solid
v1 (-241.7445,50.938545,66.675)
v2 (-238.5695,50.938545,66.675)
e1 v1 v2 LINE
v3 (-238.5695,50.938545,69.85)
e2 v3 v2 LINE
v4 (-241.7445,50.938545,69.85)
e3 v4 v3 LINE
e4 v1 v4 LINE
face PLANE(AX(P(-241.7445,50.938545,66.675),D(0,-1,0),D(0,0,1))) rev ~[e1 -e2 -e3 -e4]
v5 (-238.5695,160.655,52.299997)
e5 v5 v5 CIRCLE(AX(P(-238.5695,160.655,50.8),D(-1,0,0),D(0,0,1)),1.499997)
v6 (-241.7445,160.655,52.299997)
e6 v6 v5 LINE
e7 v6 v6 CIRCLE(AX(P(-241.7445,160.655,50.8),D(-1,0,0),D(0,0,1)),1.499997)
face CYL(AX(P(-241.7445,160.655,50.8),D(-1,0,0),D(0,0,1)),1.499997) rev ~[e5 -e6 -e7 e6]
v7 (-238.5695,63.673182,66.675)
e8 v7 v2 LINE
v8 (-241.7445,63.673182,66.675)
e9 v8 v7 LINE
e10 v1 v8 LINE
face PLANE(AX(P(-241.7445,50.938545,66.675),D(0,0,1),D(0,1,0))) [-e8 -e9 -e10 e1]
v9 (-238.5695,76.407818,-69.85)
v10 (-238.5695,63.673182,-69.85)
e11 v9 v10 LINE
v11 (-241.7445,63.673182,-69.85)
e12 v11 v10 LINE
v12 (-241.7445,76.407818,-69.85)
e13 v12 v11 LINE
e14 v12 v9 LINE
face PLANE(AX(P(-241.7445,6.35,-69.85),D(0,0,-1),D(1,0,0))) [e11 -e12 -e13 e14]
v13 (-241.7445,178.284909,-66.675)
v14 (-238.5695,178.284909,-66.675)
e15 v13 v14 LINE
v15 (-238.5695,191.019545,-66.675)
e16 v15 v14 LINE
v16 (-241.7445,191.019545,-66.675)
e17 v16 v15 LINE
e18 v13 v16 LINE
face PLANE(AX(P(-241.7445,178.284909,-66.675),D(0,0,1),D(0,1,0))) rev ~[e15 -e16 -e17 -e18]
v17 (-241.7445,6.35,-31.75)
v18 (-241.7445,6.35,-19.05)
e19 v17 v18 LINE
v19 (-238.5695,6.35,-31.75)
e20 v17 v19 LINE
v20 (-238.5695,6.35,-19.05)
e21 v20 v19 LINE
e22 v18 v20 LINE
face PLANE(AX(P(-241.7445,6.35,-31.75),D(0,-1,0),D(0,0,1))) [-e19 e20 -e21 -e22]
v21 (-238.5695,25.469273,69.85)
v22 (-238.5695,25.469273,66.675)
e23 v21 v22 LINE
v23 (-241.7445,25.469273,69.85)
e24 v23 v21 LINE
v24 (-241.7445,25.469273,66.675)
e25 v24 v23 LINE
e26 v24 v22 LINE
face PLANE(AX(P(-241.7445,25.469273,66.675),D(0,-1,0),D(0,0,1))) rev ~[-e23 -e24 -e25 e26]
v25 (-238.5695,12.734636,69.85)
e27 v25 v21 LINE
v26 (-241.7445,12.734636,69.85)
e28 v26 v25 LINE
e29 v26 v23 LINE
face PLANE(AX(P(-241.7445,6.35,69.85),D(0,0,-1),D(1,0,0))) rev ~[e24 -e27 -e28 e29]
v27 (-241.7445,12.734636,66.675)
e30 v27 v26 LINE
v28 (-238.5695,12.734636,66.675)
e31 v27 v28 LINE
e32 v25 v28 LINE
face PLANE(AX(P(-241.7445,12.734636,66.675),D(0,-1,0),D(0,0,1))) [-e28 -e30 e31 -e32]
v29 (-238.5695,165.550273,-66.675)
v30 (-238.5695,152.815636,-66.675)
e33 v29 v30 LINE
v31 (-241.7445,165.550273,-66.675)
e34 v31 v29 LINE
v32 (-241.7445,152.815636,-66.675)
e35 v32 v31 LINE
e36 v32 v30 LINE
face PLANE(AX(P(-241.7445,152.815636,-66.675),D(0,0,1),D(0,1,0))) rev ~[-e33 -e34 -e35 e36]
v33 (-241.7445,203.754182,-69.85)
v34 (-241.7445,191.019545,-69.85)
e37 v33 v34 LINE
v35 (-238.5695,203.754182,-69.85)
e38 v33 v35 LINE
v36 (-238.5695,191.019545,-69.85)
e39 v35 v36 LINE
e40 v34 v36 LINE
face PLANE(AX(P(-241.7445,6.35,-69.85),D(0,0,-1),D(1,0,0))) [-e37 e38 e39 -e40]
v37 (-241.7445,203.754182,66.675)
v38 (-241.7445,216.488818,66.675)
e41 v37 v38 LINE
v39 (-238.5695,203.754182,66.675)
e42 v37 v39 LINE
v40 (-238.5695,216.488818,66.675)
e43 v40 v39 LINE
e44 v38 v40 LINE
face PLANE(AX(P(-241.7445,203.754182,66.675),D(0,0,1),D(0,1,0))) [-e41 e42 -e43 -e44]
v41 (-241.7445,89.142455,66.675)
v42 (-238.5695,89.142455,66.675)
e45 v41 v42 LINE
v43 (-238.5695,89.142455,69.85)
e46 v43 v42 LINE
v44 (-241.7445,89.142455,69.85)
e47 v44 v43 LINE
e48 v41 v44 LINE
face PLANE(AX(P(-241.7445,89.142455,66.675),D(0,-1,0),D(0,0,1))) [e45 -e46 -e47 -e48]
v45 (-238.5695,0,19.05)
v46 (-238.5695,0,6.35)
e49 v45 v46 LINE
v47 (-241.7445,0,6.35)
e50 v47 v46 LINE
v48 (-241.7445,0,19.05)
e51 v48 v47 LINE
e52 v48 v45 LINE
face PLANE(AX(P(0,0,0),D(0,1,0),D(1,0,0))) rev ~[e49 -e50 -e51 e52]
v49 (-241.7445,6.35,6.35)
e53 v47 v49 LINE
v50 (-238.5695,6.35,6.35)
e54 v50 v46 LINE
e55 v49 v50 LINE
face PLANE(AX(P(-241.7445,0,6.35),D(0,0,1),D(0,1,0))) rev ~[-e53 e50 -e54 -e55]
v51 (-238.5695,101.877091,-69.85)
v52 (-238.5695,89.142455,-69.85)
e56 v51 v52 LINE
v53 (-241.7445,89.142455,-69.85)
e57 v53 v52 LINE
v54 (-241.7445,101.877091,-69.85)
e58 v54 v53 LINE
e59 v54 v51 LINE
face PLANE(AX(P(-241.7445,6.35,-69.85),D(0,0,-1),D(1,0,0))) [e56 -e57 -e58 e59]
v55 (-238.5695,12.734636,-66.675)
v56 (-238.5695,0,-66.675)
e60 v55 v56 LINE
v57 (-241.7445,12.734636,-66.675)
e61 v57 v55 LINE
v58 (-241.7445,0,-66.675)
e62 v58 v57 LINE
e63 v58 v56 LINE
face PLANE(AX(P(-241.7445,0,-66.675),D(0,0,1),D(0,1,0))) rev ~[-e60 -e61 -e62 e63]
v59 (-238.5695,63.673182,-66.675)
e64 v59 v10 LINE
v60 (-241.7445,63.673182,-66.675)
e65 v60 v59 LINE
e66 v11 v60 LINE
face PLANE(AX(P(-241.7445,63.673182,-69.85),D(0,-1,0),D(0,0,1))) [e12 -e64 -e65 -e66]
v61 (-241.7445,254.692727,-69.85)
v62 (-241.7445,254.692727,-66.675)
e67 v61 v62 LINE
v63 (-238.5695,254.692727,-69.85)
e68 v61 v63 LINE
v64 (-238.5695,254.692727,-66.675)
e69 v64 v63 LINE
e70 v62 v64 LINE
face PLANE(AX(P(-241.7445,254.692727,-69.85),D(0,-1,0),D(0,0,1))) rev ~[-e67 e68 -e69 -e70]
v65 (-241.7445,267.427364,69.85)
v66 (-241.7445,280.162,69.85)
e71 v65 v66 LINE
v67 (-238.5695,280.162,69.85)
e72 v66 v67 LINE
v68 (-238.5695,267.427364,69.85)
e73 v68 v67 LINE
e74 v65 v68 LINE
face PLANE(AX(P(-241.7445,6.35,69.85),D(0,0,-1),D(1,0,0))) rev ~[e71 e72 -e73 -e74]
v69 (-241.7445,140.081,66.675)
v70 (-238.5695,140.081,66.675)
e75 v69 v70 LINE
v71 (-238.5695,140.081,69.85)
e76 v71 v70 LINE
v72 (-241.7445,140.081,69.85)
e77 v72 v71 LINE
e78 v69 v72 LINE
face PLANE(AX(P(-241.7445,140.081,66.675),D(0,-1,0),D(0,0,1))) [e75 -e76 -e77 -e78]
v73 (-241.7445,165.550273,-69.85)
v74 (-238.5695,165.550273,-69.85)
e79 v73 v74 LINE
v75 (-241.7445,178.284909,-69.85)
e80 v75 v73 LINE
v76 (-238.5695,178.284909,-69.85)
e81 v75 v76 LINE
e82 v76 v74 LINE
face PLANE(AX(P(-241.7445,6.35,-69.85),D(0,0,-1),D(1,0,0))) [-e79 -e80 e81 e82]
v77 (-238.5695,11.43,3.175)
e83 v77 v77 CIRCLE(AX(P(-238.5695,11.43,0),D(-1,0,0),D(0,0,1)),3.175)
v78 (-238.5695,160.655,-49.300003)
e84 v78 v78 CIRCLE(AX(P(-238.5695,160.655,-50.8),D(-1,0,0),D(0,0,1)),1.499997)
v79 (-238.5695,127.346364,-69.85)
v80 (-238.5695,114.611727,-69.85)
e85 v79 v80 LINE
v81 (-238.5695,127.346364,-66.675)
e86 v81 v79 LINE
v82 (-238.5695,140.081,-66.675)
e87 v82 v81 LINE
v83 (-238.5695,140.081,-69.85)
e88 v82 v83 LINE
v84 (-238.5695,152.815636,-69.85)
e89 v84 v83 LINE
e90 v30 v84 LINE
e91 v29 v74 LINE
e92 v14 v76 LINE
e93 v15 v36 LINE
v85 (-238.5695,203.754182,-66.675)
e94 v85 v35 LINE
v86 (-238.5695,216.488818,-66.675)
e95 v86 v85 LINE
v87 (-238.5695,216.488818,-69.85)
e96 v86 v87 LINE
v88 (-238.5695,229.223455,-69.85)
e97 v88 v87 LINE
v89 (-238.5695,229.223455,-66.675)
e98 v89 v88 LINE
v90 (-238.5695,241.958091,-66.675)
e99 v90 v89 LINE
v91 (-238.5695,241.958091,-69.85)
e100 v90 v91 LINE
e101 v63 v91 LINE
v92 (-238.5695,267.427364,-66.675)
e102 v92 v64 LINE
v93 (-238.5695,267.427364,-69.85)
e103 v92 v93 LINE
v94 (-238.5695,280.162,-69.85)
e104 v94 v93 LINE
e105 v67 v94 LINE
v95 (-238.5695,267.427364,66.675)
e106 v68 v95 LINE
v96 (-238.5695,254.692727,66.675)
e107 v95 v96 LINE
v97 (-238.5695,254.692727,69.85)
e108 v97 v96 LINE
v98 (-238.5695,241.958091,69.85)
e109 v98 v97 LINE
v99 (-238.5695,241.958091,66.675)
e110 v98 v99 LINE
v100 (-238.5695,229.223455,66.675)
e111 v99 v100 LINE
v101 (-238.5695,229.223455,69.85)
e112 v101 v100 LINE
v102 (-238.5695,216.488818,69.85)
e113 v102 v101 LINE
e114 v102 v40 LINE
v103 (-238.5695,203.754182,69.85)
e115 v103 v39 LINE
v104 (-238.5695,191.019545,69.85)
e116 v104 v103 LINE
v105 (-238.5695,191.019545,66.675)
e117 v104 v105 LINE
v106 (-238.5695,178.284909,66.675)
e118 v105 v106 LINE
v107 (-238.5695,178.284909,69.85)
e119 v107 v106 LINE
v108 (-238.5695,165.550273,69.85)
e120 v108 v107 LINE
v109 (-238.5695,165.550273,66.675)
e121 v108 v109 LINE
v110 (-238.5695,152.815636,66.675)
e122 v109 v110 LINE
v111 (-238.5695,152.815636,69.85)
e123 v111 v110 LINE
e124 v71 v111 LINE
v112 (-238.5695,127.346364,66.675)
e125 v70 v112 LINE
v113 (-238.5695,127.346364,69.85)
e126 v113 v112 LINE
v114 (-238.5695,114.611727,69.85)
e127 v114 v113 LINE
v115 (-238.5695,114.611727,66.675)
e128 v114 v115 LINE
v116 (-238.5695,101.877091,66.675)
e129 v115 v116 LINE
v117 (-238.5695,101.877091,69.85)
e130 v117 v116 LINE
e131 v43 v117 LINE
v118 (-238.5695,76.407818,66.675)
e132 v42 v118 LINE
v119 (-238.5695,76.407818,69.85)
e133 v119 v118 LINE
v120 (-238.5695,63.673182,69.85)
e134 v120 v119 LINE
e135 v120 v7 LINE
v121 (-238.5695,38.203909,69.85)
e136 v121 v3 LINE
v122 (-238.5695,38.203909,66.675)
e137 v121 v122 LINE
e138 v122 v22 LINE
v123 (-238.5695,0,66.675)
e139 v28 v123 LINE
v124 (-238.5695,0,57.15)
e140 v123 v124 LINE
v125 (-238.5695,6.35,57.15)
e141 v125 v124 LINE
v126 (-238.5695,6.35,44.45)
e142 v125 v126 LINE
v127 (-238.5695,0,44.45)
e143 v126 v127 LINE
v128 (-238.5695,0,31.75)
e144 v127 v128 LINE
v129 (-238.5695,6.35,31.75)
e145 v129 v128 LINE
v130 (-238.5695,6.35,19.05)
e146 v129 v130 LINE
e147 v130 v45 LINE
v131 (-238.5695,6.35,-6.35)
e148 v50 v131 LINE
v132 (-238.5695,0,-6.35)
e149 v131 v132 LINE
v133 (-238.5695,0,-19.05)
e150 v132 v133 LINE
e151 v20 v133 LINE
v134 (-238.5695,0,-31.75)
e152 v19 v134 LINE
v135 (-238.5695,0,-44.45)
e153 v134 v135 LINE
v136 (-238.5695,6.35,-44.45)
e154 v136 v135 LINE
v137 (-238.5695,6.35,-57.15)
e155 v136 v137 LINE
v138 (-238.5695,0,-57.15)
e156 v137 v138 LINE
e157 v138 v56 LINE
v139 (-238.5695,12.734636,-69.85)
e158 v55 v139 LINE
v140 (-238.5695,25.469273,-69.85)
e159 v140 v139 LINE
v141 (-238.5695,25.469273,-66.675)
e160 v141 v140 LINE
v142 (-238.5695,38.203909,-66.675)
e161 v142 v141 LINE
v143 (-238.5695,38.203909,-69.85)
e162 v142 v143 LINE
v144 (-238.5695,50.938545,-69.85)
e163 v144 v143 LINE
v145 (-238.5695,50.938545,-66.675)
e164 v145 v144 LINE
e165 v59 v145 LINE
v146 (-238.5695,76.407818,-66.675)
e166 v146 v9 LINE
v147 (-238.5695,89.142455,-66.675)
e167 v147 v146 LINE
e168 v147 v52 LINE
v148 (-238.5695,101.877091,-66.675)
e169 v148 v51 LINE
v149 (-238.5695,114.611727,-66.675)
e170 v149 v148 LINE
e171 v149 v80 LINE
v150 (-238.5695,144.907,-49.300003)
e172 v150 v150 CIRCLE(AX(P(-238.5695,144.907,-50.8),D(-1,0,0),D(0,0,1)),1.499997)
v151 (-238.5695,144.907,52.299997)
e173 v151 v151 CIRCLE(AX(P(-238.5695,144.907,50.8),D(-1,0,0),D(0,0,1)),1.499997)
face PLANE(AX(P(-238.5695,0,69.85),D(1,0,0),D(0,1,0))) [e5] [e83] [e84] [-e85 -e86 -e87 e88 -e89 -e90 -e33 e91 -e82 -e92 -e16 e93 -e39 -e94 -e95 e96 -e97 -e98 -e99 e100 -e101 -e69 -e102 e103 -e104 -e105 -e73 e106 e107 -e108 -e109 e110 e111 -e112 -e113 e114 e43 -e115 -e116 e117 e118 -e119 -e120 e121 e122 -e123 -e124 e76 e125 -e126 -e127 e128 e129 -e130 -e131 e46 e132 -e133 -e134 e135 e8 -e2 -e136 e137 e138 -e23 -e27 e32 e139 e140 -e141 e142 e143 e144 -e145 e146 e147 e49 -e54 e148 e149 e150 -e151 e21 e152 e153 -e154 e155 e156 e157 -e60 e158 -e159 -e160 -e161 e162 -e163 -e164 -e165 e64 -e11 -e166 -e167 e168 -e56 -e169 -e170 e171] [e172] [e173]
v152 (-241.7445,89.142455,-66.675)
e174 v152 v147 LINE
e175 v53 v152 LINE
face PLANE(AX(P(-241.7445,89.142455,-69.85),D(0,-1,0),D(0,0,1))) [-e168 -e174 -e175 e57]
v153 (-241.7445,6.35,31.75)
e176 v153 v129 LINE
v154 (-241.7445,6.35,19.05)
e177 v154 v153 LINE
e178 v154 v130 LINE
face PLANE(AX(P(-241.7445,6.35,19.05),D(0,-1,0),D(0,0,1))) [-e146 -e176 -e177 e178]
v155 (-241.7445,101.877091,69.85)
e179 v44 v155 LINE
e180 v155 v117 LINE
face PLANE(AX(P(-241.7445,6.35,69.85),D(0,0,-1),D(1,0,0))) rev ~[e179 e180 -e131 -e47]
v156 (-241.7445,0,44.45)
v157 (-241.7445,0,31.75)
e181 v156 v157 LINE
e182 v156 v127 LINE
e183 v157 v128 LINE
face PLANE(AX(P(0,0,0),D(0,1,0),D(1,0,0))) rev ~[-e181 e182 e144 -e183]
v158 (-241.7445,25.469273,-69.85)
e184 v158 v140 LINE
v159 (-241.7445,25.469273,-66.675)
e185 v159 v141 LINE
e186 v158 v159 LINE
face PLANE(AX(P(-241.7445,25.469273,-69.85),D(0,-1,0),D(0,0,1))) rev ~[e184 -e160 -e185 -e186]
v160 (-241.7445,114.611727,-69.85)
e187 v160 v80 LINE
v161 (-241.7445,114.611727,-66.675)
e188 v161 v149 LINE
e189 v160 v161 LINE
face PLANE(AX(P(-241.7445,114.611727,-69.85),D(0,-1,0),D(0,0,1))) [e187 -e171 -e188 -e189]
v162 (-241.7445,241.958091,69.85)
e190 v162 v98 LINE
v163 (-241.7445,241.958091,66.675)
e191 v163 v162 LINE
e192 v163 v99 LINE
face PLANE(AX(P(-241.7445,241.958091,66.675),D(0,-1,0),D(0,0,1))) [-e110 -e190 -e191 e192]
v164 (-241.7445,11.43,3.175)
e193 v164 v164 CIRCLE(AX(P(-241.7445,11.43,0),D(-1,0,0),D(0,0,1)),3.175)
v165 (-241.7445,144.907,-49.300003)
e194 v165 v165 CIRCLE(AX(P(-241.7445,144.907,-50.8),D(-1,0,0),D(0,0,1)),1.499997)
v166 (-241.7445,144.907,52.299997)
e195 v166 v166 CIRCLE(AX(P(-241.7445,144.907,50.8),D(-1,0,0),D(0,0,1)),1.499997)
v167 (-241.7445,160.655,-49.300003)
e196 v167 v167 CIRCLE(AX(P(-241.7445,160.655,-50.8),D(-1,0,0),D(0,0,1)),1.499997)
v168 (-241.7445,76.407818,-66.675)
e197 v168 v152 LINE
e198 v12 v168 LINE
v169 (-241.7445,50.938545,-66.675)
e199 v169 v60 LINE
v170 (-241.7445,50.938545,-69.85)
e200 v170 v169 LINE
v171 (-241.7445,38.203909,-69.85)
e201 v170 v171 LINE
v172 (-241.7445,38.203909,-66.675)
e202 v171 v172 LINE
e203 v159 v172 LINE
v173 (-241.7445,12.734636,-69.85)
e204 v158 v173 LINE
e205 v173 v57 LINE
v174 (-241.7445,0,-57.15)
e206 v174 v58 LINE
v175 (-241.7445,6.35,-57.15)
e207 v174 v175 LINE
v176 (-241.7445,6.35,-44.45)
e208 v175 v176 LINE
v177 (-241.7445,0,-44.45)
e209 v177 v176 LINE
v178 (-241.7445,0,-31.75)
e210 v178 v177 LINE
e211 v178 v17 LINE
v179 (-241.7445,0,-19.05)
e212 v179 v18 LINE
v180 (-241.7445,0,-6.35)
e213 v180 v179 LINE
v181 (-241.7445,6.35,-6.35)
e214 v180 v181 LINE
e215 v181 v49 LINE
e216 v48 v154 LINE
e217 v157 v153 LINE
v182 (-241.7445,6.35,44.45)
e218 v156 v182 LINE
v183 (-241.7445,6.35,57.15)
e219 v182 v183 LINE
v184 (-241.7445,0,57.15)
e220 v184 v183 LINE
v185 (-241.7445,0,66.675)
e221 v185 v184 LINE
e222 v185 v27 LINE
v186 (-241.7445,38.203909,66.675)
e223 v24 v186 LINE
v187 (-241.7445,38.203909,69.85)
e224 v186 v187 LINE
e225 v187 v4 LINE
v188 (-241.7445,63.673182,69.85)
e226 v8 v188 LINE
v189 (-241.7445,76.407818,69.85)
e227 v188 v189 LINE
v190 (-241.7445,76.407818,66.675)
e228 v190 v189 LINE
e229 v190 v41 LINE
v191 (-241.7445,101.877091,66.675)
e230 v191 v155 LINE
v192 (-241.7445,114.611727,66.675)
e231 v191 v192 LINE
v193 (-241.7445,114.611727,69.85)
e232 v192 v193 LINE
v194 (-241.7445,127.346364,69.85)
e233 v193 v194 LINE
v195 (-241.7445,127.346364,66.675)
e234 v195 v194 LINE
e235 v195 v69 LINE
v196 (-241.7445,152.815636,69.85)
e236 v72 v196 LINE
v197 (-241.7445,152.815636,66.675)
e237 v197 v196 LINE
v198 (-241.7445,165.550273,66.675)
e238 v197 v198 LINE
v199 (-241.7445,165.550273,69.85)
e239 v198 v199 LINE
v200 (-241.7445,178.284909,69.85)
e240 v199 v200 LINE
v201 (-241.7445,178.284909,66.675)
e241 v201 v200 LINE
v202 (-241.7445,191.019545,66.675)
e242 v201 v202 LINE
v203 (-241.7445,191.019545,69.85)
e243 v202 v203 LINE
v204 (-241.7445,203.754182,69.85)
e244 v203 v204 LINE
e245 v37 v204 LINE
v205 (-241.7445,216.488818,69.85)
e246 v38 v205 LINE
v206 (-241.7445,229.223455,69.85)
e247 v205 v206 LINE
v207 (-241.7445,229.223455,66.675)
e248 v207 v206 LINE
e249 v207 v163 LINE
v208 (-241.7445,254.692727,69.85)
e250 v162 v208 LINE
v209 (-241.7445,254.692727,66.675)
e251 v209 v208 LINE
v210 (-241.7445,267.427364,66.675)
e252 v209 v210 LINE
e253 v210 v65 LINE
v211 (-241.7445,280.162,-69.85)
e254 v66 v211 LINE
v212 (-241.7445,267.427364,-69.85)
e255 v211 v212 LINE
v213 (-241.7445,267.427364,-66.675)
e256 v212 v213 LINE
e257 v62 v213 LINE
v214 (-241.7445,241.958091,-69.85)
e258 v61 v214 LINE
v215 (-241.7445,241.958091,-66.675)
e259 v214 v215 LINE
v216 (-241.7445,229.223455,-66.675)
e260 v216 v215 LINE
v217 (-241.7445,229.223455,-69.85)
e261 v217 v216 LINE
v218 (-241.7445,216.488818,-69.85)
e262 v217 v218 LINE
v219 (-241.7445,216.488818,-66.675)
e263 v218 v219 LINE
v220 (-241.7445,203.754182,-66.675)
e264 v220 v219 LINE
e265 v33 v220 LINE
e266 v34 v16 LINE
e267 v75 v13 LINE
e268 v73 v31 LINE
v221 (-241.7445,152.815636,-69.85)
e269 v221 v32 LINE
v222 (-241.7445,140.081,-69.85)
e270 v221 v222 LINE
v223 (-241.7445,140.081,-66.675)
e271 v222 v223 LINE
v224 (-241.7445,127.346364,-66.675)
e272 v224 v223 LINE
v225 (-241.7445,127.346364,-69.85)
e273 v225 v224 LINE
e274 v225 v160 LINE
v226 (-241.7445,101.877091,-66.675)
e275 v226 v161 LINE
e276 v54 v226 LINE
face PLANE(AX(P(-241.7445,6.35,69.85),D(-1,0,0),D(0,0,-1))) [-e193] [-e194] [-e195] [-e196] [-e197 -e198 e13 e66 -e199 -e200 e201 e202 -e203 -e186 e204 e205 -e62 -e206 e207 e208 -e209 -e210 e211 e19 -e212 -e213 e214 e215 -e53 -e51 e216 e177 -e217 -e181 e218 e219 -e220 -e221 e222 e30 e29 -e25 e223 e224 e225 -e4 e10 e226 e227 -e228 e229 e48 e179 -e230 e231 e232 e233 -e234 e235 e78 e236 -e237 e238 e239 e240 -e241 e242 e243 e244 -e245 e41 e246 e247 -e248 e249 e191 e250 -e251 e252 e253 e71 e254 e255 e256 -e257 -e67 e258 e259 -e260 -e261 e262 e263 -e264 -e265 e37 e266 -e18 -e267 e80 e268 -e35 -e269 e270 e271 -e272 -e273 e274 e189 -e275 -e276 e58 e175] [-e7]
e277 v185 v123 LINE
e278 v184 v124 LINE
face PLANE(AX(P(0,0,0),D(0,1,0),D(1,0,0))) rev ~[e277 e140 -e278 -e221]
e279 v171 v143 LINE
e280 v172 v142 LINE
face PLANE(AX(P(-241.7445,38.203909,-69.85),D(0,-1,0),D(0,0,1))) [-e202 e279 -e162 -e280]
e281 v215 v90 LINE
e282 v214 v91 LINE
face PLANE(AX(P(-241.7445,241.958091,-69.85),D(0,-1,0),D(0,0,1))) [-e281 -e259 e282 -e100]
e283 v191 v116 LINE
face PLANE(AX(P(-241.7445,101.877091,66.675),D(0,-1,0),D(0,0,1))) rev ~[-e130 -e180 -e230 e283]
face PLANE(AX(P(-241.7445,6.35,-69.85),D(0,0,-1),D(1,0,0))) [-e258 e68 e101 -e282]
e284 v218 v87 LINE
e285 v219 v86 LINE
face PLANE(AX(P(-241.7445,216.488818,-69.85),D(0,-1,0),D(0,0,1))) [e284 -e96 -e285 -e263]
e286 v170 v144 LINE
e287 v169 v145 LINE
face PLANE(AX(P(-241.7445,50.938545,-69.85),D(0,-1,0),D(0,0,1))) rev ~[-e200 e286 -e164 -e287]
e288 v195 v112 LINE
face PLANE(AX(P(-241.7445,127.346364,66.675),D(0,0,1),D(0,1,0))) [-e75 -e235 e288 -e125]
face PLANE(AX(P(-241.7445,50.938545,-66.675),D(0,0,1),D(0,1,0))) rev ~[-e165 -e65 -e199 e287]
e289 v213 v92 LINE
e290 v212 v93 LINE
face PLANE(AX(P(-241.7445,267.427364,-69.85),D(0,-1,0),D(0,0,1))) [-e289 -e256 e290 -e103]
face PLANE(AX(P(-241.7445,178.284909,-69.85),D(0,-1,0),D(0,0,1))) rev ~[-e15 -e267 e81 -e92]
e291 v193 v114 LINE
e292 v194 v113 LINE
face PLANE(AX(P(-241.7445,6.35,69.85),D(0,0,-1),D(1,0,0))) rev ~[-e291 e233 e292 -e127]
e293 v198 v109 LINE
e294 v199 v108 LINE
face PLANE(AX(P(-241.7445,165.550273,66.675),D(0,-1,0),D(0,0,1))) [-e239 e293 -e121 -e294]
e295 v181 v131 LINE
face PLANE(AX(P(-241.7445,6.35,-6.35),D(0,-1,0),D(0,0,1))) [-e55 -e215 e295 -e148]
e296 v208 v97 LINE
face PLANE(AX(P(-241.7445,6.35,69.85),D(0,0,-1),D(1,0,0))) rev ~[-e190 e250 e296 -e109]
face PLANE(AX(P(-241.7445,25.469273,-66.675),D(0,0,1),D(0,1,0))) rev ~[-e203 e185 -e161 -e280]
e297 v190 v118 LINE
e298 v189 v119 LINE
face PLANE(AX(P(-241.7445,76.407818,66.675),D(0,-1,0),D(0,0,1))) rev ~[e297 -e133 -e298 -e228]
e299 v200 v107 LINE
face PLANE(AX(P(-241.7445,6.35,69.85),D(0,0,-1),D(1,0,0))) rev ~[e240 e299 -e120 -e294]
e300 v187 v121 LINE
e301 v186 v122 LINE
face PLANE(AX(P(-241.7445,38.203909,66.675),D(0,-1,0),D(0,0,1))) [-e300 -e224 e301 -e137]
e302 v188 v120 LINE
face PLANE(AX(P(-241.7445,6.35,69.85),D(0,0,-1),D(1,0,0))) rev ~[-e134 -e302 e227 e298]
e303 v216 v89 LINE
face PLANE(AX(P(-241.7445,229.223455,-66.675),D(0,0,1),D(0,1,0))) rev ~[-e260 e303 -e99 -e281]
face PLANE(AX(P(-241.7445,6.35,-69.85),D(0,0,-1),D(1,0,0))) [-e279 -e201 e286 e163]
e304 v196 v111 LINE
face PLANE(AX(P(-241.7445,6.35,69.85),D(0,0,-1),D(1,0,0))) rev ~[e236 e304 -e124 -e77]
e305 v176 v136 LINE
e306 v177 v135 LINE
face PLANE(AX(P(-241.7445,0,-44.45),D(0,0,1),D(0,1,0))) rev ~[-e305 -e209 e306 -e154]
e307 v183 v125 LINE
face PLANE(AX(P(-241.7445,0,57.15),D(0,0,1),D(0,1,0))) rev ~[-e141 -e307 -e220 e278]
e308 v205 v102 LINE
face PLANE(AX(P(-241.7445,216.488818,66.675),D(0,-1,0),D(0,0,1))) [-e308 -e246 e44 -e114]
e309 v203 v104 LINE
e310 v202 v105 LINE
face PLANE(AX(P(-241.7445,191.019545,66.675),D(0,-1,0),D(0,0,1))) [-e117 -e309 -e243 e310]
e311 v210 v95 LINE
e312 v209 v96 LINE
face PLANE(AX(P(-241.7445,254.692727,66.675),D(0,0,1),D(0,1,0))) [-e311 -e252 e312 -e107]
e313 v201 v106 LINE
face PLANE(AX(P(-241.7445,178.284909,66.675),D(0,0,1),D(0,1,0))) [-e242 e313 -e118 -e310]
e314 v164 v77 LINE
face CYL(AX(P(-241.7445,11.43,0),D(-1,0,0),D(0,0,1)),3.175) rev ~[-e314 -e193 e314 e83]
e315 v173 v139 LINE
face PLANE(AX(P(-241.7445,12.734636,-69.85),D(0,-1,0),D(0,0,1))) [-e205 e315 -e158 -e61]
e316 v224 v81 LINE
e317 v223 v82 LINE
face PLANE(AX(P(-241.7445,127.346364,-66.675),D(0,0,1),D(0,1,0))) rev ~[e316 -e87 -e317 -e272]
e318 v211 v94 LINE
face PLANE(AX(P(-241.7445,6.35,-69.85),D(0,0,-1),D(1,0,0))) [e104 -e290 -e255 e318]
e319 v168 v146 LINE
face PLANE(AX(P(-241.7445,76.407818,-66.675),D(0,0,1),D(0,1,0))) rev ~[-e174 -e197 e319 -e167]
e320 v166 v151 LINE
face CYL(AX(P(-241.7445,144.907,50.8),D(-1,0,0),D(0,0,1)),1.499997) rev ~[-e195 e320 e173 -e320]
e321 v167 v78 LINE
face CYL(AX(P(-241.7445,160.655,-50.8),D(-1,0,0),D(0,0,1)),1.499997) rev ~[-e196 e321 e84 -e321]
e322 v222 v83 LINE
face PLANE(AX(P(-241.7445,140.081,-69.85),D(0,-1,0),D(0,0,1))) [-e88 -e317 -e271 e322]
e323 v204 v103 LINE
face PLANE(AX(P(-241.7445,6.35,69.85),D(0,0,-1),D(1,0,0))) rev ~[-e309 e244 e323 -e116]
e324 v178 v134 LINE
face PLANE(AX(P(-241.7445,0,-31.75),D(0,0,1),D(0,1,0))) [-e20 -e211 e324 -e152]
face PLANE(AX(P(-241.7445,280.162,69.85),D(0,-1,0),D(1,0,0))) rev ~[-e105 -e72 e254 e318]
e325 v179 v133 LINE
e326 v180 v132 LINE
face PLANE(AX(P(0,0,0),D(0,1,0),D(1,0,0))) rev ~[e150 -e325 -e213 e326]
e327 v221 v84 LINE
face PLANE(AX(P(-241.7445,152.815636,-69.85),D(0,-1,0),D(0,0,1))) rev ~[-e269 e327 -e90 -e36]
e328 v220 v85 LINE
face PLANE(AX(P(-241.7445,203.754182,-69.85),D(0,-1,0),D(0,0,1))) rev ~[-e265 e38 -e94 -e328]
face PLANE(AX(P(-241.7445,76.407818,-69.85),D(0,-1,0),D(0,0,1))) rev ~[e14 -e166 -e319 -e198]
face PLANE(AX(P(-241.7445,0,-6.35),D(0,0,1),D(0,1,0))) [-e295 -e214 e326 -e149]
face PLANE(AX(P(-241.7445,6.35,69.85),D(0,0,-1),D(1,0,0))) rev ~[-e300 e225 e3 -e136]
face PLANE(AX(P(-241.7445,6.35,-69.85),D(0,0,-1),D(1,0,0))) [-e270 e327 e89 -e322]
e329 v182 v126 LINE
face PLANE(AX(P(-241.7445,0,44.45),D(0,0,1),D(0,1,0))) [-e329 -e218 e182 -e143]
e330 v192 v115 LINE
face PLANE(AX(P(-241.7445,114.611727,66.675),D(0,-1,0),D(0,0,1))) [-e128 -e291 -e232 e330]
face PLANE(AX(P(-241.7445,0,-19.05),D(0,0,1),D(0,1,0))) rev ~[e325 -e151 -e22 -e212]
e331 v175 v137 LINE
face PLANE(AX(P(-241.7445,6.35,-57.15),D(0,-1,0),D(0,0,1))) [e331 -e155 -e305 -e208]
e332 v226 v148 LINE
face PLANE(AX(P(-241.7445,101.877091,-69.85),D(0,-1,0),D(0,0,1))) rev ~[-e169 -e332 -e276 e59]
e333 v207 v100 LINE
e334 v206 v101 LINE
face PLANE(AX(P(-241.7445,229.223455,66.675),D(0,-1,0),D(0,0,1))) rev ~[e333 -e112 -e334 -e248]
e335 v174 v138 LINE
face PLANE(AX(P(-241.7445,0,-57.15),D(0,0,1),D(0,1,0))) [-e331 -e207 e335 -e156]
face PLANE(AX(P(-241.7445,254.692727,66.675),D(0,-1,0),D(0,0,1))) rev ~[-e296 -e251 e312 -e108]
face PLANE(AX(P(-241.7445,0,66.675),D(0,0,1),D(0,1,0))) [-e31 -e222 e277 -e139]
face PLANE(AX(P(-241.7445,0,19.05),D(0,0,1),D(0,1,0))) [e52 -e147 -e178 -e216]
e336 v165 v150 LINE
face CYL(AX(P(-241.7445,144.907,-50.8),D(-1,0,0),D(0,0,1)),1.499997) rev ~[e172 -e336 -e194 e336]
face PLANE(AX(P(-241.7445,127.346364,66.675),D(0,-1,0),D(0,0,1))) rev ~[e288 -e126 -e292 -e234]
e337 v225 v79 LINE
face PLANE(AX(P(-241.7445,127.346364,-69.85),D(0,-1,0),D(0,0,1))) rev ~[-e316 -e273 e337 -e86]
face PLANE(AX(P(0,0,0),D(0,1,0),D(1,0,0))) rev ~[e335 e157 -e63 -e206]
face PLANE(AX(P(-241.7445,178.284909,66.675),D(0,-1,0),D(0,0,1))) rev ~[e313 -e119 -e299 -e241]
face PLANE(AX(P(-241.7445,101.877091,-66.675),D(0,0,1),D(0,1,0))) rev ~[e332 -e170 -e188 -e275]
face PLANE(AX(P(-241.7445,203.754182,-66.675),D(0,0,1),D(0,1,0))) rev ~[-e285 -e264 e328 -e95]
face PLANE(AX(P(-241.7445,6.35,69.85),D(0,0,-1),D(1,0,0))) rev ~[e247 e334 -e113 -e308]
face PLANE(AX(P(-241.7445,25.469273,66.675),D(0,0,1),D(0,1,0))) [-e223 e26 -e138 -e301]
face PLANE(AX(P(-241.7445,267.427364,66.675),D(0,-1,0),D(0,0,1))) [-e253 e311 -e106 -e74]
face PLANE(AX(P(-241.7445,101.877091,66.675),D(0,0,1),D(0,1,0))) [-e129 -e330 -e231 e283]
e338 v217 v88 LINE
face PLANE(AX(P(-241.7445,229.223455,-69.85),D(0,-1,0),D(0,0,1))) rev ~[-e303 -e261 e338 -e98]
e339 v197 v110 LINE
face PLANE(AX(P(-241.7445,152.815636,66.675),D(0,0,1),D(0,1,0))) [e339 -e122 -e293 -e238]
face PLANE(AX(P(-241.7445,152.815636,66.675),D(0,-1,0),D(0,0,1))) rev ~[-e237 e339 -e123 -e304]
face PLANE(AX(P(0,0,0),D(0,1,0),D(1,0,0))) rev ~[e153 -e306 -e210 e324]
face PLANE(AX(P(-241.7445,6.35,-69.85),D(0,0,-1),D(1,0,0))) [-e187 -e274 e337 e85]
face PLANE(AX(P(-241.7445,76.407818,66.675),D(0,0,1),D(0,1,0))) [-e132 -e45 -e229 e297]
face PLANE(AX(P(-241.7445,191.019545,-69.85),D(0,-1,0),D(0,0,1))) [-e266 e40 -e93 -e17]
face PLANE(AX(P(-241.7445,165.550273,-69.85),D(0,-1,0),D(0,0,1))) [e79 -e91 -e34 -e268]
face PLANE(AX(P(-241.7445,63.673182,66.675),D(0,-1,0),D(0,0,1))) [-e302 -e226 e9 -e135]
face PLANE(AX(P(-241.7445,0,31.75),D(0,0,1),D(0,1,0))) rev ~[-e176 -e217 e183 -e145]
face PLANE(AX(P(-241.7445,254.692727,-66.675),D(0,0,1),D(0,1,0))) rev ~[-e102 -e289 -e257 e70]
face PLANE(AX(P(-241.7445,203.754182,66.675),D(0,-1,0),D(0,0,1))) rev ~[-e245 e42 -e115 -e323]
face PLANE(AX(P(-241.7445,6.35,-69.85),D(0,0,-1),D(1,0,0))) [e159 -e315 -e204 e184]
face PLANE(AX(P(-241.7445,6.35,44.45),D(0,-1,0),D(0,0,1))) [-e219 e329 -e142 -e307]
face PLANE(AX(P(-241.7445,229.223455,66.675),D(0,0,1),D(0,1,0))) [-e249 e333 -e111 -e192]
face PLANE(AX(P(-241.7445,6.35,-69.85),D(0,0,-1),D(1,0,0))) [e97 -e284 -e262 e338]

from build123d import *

# Parameters (mm, degrees)
SKETCH1_W                   = 483.489
SKETCH1_H                   = 139.7
BOSS_EXTRUDE1_DEPTH         = 6.35
SKETCH2_W                   = 483.489
SKETCH2_H                   = 139.7
SKETCH2_W_2                 = 477.139
SKETCH2_H_2                 = 133.35
BOSS_EXTRUDE2_DEPTH         = 299.212
SKETCH3_W                   = 5.588
SKETCH3_H                   = 16.933333333
SKETCH3_H_2                 = 16.933333334
DOOR_SLOT_DEPTH             = 12.7
SKETCH4_W                   = 6.35
SKETCH4_H                   = 15.9512
DOOR_GUIDE_HOLES_DEPTH      = 3.175
LEVERHOLE_CUT_REACH         = 141.7
LEVER_HOLES_R               = 1.5
LEVER_HOLES_W               = 25.4
LEVER_HOLES_H               = 7.62
LEVER_HOLES_W_2             = 4
LEVER_HOLES_H_2             = 6.35
LEVER_HOLES_2_R             = 1.5
LBRACKET_THRU_HOLES_DEPTH   = 140.7
SKETCH8_R                   = 3.175
TETHER_HOLE_DEPTH           = 484.489
DOOR_GUIDE_ROOF_SLOTS_REACH = 141.7
SKETCH16_W                  = 9.525
SKETCH16_H                  = 15.744198015
SKETCH16_W_2                = 483.489
SKETCH16_H_2                = 25.4
SKETCH17_W                  = 480.314
SKETCH17_H                  = 280.162
CUT_EXTRUDE1_DEPTH          = 140.7
LEFT_RIGHT_W                = 12.7
LEFT_RIGHT_H                = 6.35
LEFT_RIGHT_W_2              = 3.175
LEFT_RIGHT_H_2              = 12.734636364
LEFT_RIGHT_H_3              = 12.734636363
CUT_EXTRUDE2_DEPTH          = 4.175
SKETCH18_R                  = 1.499997
CUT_EXTRUDE3_DEPTH          = 4.175


with BuildPart() as part:
    # Sketch1 → Boss-Extrude1 (new body)
    with BuildSketch(Plane(origin=(0, 0, 0), x_dir=(1, 0, 0), z_dir=(0, 1, 0))):
        Rectangle(SKETCH1_W, SKETCH1_H)
    extrude(amount=BOSS_EXTRUDE1_DEPTH)

    # Sketch2 → Boss-Extrude2 (add)
    with BuildSketch(Plane(origin=(0, 6.35, 0), x_dir=(1, 0, 0), z_dir=(0, 1, 0))):
        Rectangle(SKETCH2_W, SKETCH2_H)
        Rectangle(SKETCH2_W_2, SKETCH2_H_2, mode=Mode.SUBTRACT)
    extrude(amount=BOSS_EXTRUDE2_DEPTH)

    # Sketch3 → Door Slot (cut)
    with BuildSketch(Plane.XY.offset(69.85)):
        with BuildLine():
            Line((76.5175, 292.354), (76.5175, 6.35))
            Line((76.5175, 6.35), (83.1215, 6.35))
            Line((83.1215, 6.35), (83.1215, 283.240675824))
            ThreePointArc((83.1215, 283.240675824), (83.865448776, 285.036727048), (85.6615, 285.780675824))
            Line((85.6615, 285.780675824), (96.0755, 285.780675824))
            Line((96.0755, 285.780675824), (96.0755, 292.354))
            Line((96.0755, 292.354), (76.5175, 292.354))
        make_face()
        with Locations((66.6115, 80.433333334)):
            Rectangle(SKETCH3_W, SKETCH3_H)
        with Locations((66.6115, 50.8)):
            Rectangle(SKETCH3_W, SKETCH3_H_2)
        with Locations((66.6115, 21.166666667)):
            Rectangle(SKETCH3_W, SKETCH3_H)
        with BuildLine():
            Line((-83.1215, 283.240675824), (-83.1215, 6.35))
            Line((-83.1215, 6.35), (-76.5175, 6.35))
            Line((-76.5175, 6.35), (-76.5175, 292.354))
            Line((-76.5175, 292.354), (-96.0755, 292.354))
            Line((-96.0755, 292.354), (-96.0755, 285.780675824))
            Line((-96.0755, 285.780675824), (-85.6615, 285.780675824))
            ThreePointArc((-85.6615, 285.780675824), (-83.865448776, 285.036727048), (-83.1215, 283.240675824))
        make_face()
        with Locations((-66.6115, 80.433333334)):
            Rectangle(SKETCH3_W, SKETCH3_H)
        with Locations((-66.6115, 50.8)):
            Rectangle(SKETCH3_W, SKETCH3_H_2)
        with Locations((-66.6115, 21.166666667)):
            Rectangle(SKETCH3_W, SKETCH3_H)
    extrude(amount=-DOOR_SLOT_DEPTH, mode=Mode.SUBTRACT)

    # Sketch4 → Door Guide Holes (cut)
    with BuildSketch(Plane.XY.offset(-66.675)):
        with Locations((73.3425, 256.2352)):
            Rectangle(SKETCH4_W, SKETCH4_H)
        with Locations((73.3425, 227.584)):
            Rectangle(SKETCH4_W, SKETCH4_H)
        with Locations((73.3425, 198.9328)):
            Rectangle(SKETCH4_W, SKETCH4_H)
        with Locations((73.3425, 170.2816)):
            Rectangle(SKETCH4_W, SKETCH4_H)
        with Locations((73.3425, 141.6304)):
            Rectangle(SKETCH4_W, SKETCH4_H)
        with Locations((73.3425, 112.9792)):
            Rectangle(SKETCH4_W, SKETCH4_H)
        with Locations((73.3425, 84.328)):
            Rectangle(SKETCH4_W, SKETCH4_H)
        with Locations((73.3425, 55.6768)):
            Rectangle(SKETCH4_W, SKETCH4_H)
        with Locations((73.3425, 27.0256)):
            Rectangle(SKETCH4_W, SKETCH4_H)
        with Locations((-99.2505, 284.8864)):
            Rectangle(SKETCH4_W, SKETCH4_H)
        with Locations((-99.2505, 256.2352)):
            Rectangle(SKETCH4_W, SKETCH4_H)
        with Locations((-99.2505, 227.584)):
            Rectangle(SKETCH4_W, SKETCH4_H)
        with Locations((-99.2505, 198.9328)):
            Rectangle(SKETCH4_W, SKETCH4_H)
        with Locations((-99.2505, 170.2816)):
            Rectangle(SKETCH4_W, SKETCH4_H)
        with Locations((-99.2505, 141.6304)):
            Rectangle(SKETCH4_W, SKETCH4_H)
        with Locations((-99.2505, 112.9792)):
            Rectangle(SKETCH4_W, SKETCH4_H)
        with Locations((-99.2505, 84.328)):
            Rectangle(SKETCH4_W, SKETCH4_H)
        with Locations((-99.2505, 55.6768)):
            Rectangle(SKETCH4_W, SKETCH4_H)
        with Locations((-99.2505, 27.0256)):
            Rectangle(SKETCH4_W, SKETCH4_H)
        with Locations((99.2505, 284.8864)):
            Rectangle(SKETCH4_W, SKETCH4_H)
        with Locations((99.2505, 256.2352)):
            Rectangle(SKETCH4_W, SKETCH4_H)
        with Locations((99.2505, 227.584)):
            Rectangle(SKETCH4_W, SKETCH4_H)
        with Locations((99.2505, 198.9328)):
            Rectangle(SKETCH4_W, SKETCH4_H)
        with Locations((99.2505, 170.2816)):
            Rectangle(SKETCH4_W, SKETCH4_H)
        with Locations((99.2505, 141.6304)):
            Rectangle(SKETCH4_W, SKETCH4_H)
        with Locations((99.2505, 112.9792)):
            Rectangle(SKETCH4_W, SKETCH4_H)
        with Locations((99.2505, 84.328)):
            Rectangle(SKETCH4_W, SKETCH4_H)
        with Locations((99.2505, 55.6768)):
            Rectangle(SKETCH4_W, SKETCH4_H)
        with Locations((99.2505, 27.0256)):
            Rectangle(SKETCH4_W, SKETCH4_H)
        with Locations((-73.3425, 284.8864)):
            Rectangle(SKETCH4_W, SKETCH4_H)
        with Locations((-73.3425, 256.2352)):
            Rectangle(SKETCH4_W, SKETCH4_H)
        with Locations((-73.3425, 227.584)):
            Rectangle(SKETCH4_W, SKETCH4_H)
        with Locations((-73.3425, 198.9328)):
            Rectangle(SKETCH4_W, SKETCH4_H)
        with Locations((-73.3425, 170.2816)):
            Rectangle(SKETCH4_W, SKETCH4_H)
        with Locations((-73.3425, 141.6304)):
            Rectangle(SKETCH4_W, SKETCH4_H)
        with Locations((-73.3425, 112.9792)):
            Rectangle(SKETCH4_W, SKETCH4_H)
        with Locations((-73.3425, 84.328)):
            Rectangle(SKETCH4_W, SKETCH4_H)
        with Locations((-73.3425, 55.6768)):
            Rectangle(SKETCH4_W, SKETCH4_H)
        with Locations((-73.3425, 27.0256)):
            Rectangle(SKETCH4_W, SKETCH4_H)
        with Locations((73.3425, 284.8864)):
            Rectangle(SKETCH4_W, SKETCH4_H)
    extrude(amount=-DOOR_GUIDE_HOLES_DEPTH, mode=Mode.SUBTRACT)

    # Lever Holes → LeverHole Cut (cut, up to next)
    with BuildSketch(Plane.XY.offset(-69.85), mode=Mode.PRIVATE) as leverhole_cut_sk1:
        with Locations((222.6945, 160.655)):
            Circle(LEVER_HOLES_R)
    leverhole_cut_tool1 = extrude(leverhole_cut_sk1.sketch, amount=LEVERHOLE_CUT_REACH, mode=Mode.PRIVATE) & part.part
    add(leverhole_cut_tool1.solids().sort_by_distance((222.6945, 160.655, -69.85))[0], mode=Mode.SUBTRACT)
    # Lever Holes → LeverHole Cut (cut, up to next)
    with BuildSketch(Plane.XY.offset(-69.85), mode=Mode.PRIVATE) as leverhole_cut_sk2:
        with Locations((222.6945, 144.907)):
            Circle(LEVER_HOLES_R)
    leverhole_cut_tool2 = extrude(leverhole_cut_sk2.sketch, amount=LEVERHOLE_CUT_REACH, mode=Mode.PRIVATE) & part.part
    add(leverhole_cut_tool2.solids().sort_by_distance((222.6945, 144.907, -69.85))[0], mode=Mode.SUBTRACT)
    # Lever Holes → LeverHole Cut (cut, up to next)
    with BuildSketch(Plane.XY.offset(-69.85), mode=Mode.PRIVATE) as leverhole_cut_sk3:
        with Locations((-222.6945, 160.655)):
            Circle(LEVER_HOLES_R)
    leverhole_cut_tool3 = extrude(leverhole_cut_sk3.sketch, amount=LEVERHOLE_CUT_REACH, mode=Mode.PRIVATE) & part.part
    add(leverhole_cut_tool3.solids().sort_by_distance((-222.6945, 160.655, -69.85))[0], mode=Mode.SUBTRACT)
    # Lever Holes → LeverHole Cut (cut, up to next)
    with BuildSketch(Plane.XY.offset(-69.85), mode=Mode.PRIVATE) as leverhole_cut_sk4:
        with Locations((-222.6945, 144.907)):
            Circle(LEVER_HOLES_R)
    leverhole_cut_tool4 = extrude(leverhole_cut_sk4.sketch, amount=LEVERHOLE_CUT_REACH, mode=Mode.PRIVATE) & part.part
    add(leverhole_cut_tool4.solids().sort_by_distance((-222.6945, 144.907, -69.85))[0], mode=Mode.SUBTRACT)
    # Lever Holes → LeverHole Cut (cut, up to next)
    with BuildSketch(Plane.XY.offset(-69.85), mode=Mode.PRIVATE) as leverhole_cut_sk5:
        with Locations((-46.9175, 33.8749894)):
            Rectangle(LEVER_HOLES_W, LEVER_HOLES_H)
    leverhole_cut_tool5 = extrude(leverhole_cut_sk5.sketch, amount=LEVERHOLE_CUT_REACH, mode=Mode.PRIVATE) & part.part
    add(leverhole_cut_tool5.solids().sort_by_distance((-46.9175, 33.874989, -69.85))[0], mode=Mode.SUBTRACT)
    # Lever Holes → LeverHole Cut (cut, up to next)
    with BuildSketch(Plane.XY.offset(-69.85), mode=Mode.PRIVATE) as leverhole_cut_sk6:
        with Locations((-58.1675, 13.175)):
            Rectangle(LEVER_HOLES_W_2, LEVER_HOLES_H_2)
    leverhole_cut_tool6 = extrude(leverhole_cut_sk6.sketch, amount=LEVERHOLE_CUT_REACH, mode=Mode.PRIVATE) & part.part
    add(leverhole_cut_tool6.solids().sort_by_distance((-58.1675, 13.175, -69.85))[0], mode=Mode.SUBTRACT)
    # Lever Holes → LeverHole Cut (cut, up to next)
    with BuildSketch(Plane.XY.offset(-69.85), mode=Mode.PRIVATE) as leverhole_cut_sk7:
        with Locations((-12.1675068, 13.175)):
            Rectangle(LEVER_HOLES_W_2, LEVER_HOLES_H_2)
    leverhole_cut_tool7 = extrude(leverhole_cut_sk7.sketch, amount=LEVERHOLE_CUT_REACH, mode=Mode.PRIVATE) & part.part
    add(leverhole_cut_tool7.solids().sort_by_distance((-12.167507, 13.175, -69.85))[0], mode=Mode.SUBTRACT)
    # Lever Holes → LeverHole Cut (cut, up to next)
    with BuildSketch(Plane.XY.offset(-69.85), mode=Mode.PRIVATE) as leverhole_cut_sk8:
        with Locations((12.1675068, 13.175)):
            Rectangle(LEVER_HOLES_W_2, LEVER_HOLES_H_2)
    leverhole_cut_tool8 = extrude(leverhole_cut_sk8.sketch, amount=LEVERHOLE_CUT_REACH, mode=Mode.PRIVATE) & part.part
    add(leverhole_cut_tool8.solids().sort_by_distance((12.167507, 13.175, -69.85))[0], mode=Mode.SUBTRACT)
    # Lever Holes → LeverHole Cut (cut, up to next)
    with BuildSketch(Plane.XY.offset(-69.85), mode=Mode.PRIVATE) as leverhole_cut_sk9:
        with Locations((46.9175, 33.8749894)):
            Rectangle(LEVER_HOLES_W, LEVER_HOLES_H)
    leverhole_cut_tool9 = extrude(leverhole_cut_sk9.sketch, amount=LEVERHOLE_CUT_REACH, mode=Mode.PRIVATE) & part.part
    add(leverhole_cut_tool9.solids().sort_by_distance((46.9175, 33.874989, -69.85))[0], mode=Mode.SUBTRACT)
    # Lever Holes → LeverHole Cut (cut, up to next)
    with BuildSketch(Plane.XY.offset(-69.85), mode=Mode.PRIVATE) as leverhole_cut_sk10:
        with Locations((58.1675, 13.175)):
            Rectangle(LEVER_HOLES_W_2, LEVER_HOLES_H_2)
    leverhole_cut_tool10 = extrude(leverhole_cut_sk10.sketch, amount=LEVERHOLE_CUT_REACH, mode=Mode.PRIVATE) & part.part
    add(leverhole_cut_tool10.solids().sort_by_distance((58.1675, 13.175, -69.85))[0], mode=Mode.SUBTRACT)

    # Lever Holes<2> → Lbracket Thru Holes (cut, through all)
    with BuildSketch(Plane.XY.offset(-69.85)):
        with Locations((-222.6945, 160.655)):
            Circle(LEVER_HOLES_2_R)
        with Locations((-222.6945, 144.907)):
            Circle(LEVER_HOLES_2_R)
        with Locations((222.6945, 160.655)):
            Circle(LEVER_HOLES_2_R)
        with Locations((222.6945, 144.907)):
            Circle(LEVER_HOLES_2_R)
    extrude(amount=LBRACKET_THRU_HOLES_DEPTH, mode=Mode.SUBTRACT)

    # Sketch8 → Tether Hole (cut, through all)
    with BuildSketch(Plane.ZY.offset(241.7445)):
        with Locations((0, 11.43)):
            Circle(SKETCH8_R)
    extrude(amount=-TETHER_HOLE_DEPTH, mode=Mode.SUBTRACT)

    # Sketch16 → Door Guide Roof Slots (cut, up to next)
    with BuildSketch(Plane.XY.offset(69.85), mode=Mode.PRIVATE) as door_guide_roof_slots_sk1:
        with Locations((54.102, 267.525769227)):
            Rectangle(SKETCH16_W, SKETCH16_H)
    door_guide_roof_slots_tool1 = extrude(door_guide_roof_slots_sk1.sketch, amount=-DOOR_GUIDE_ROOF_SLOTS_REACH, mode=Mode.PRIVATE) & part.part
    add(door_guide_roof_slots_tool1.solids().sort_by_distance((54.102, 267.525769, 69.85))[0], mode=Mode.SUBTRACT)
    # Sketch16 → Door Guide Roof Slots (cut, up to next)
    with BuildSketch(Plane.XY.offset(69.85), mode=Mode.PRIVATE) as door_guide_roof_slots_sk2:
        with Locations((118.491, 267.525769227)):
            Rectangle(SKETCH16_W, SKETCH16_H)
    door_guide_roof_slots_tool2 = extrude(door_guide_roof_slots_sk2.sketch, amount=-DOOR_GUIDE_ROOF_SLOTS_REACH, mode=Mode.PRIVATE) & part.part
    add(door_guide_roof_slots_tool2.solids().sort_by_distance((118.491, 267.525769, 69.85))[0], mode=Mode.SUBTRACT)
    # Sketch16 → Door Guide Roof Slots (cut, up to next)
    with BuildSketch(Plane.XY.offset(69.85), mode=Mode.PRIVATE) as door_guide_roof_slots_sk3:
        with Locations((-118.491, 267.525769227)):
            Rectangle(SKETCH16_W, SKETCH16_H)
    door_guide_roof_slots_tool3 = extrude(door_guide_roof_slots_sk3.sketch, amount=-DOOR_GUIDE_ROOF_SLOTS_REACH, mode=Mode.PRIVATE) & part.part
    add(door_guide_roof_slots_tool3.solids().sort_by_distance((-118.491, 267.525769, 69.85))[0], mode=Mode.SUBTRACT)
    # Sketch16 → Door Guide Roof Slots (cut, up to next)
    with BuildSketch(Plane.XY.offset(69.85), mode=Mode.PRIVATE) as door_guide_roof_slots_sk4:
        with Locations((-54.102, 267.525769227)):
            Rectangle(SKETCH16_W, SKETCH16_H)
    door_guide_roof_slots_tool4 = extrude(door_guide_roof_slots_sk4.sketch, amount=-DOOR_GUIDE_ROOF_SLOTS_REACH, mode=Mode.PRIVATE) & part.part
    add(door_guide_roof_slots_tool4.solids().sort_by_distance((-54.102, 267.525769, 69.85))[0], mode=Mode.SUBTRACT)
    # Sketch16 → Door Guide Roof Slots (cut, up to next)
    with BuildSketch(Plane.XY.offset(69.85), mode=Mode.PRIVATE) as door_guide_roof_slots_sk5:
        with Locations((0, 292.862)):
            Rectangle(SKETCH16_W_2, SKETCH16_H_2)
    door_guide_roof_slots_tool5 = extrude(door_guide_roof_slots_sk5.sketch, amount=-DOOR_GUIDE_ROOF_SLOTS_REACH, mode=Mode.PRIVATE) & part.part
    add(door_guide_roof_slots_tool5.solids().sort_by_distance((0, 292.862, 69.85))[0], mode=Mode.SUBTRACT)

    # Sketch17 → Cut-Extrude1 (cut, through all)
    with BuildSketch(Plane.XY.offset(69.85)):
        with Locations((1.5875, 140.081)):
            Rectangle(SKETCH17_W, SKETCH17_H)
    extrude(amount=-CUT_EXTRUDE1_DEPTH, mode=Mode.SUBTRACT)

    # Left/Right → Cut-Extrude2 (cut, through all)
    with BuildSketch(Plane.ZY.offset(241.7445)):
        with Locations((50.8, 3.175)):
            Rectangle(LEFT_RIGHT_W, LEFT_RIGHT_H)
        with Locations((68.2625, 6.367318182)):
            Rectangle(LEFT_RIGHT_W_2, LEFT_RIGHT_H_2)
        with Locations((25.4, 3.175)):
            Rectangle(LEFT_RIGHT_W, LEFT_RIGHT_H)
        with Locations((68.2625, 31.836590909)):
            Rectangle(LEFT_RIGHT_W_2, LEFT_RIGHT_H_2)
        with Locations((0, 3.175)):
            Rectangle(LEFT_RIGHT_W, LEFT_RIGHT_H)
        with Locations((68.2625, 57.305863637)):
            Rectangle(LEFT_RIGHT_W_2, LEFT_RIGHT_H_3)
        with Locations((-25.4, 3.175)):
            Rectangle(LEFT_RIGHT_W, LEFT_RIGHT_H)
        with Locations((68.2625, 82.775136363)):
            Rectangle(LEFT_RIGHT_W_2, LEFT_RIGHT_H_3)
        with Locations((-50.8, 3.175)):
            Rectangle(LEFT_RIGHT_W, LEFT_RIGHT_H)
        with Locations((68.2625, 108.244409091)):
            Rectangle(LEFT_RIGHT_W_2, LEFT_RIGHT_H_2)
        with Locations((-68.2625, 6.367318182)):
            Rectangle(LEFT_RIGHT_W_2, LEFT_RIGHT_H_2)
        with Locations((68.2625, 133.713681818)):
            Rectangle(LEFT_RIGHT_W_2, LEFT_RIGHT_H_2)
        with Locations((-68.2625, 31.836590909)):
            Rectangle(LEFT_RIGHT_W_2, LEFT_RIGHT_H_2)
        with Locations((68.2625, 159.182954546)):
            Rectangle(LEFT_RIGHT_W_2, LEFT_RIGHT_H_3)
        with Locations((-68.2625, 57.305863637)):
            Rectangle(LEFT_RIGHT_W_2, LEFT_RIGHT_H_3)
        with Locations((68.2625, 184.652227273)):
            Rectangle(LEFT_RIGHT_W_2, LEFT_RIGHT_H_2)
        with Locations((-68.2625, 82.775136363)):
            Rectangle(LEFT_RIGHT_W_2, LEFT_RIGHT_H_3)
        with Locations((68.2625, 210.1215)):
            Rectangle(LEFT_RIGHT_W_2, LEFT_RIGHT_H_2)
        with Locations((-68.2625, 108.244409091)):
            Rectangle(LEFT_RIGHT_W_2, LEFT_RIGHT_H_2)
        with Locations((68.2625, 235.590772727)):
            Rectangle(LEFT_RIGHT_W_2, LEFT_RIGHT_H_2)
        with Locations((-68.2625, 133.713681818)):
            Rectangle(LEFT_RIGHT_W_2, LEFT_RIGHT_H_2)
        with Locations((68.2625, 261.060045455)):
            Rectangle(LEFT_RIGHT_W_2, LEFT_RIGHT_H_3)
        with Locations((-68.2625, 159.182954546)):
            Rectangle(LEFT_RIGHT_W_2, LEFT_RIGHT_H_3)
        with Locations((-68.2625, 184.652227273)):
            Rectangle(LEFT_RIGHT_W_2, LEFT_RIGHT_H_2)
        with Locations((-68.2625, 210.1215)):
            Rectangle(LEFT_RIGHT_W_2, LEFT_RIGHT_H_2)
        with Locations((-68.2625, 235.590772727)):
            Rectangle(LEFT_RIGHT_W_2, LEFT_RIGHT_H_2)
        with Locations((-68.2625, 261.060045455)):
            Rectangle(LEFT_RIGHT_W_2, LEFT_RIGHT_H_3)
    extrude(amount=-CUT_EXTRUDE2_DEPTH, mode=Mode.SUBTRACT)

    # Sketch18 → Cut-Extrude3 (cut, through all)
    with BuildSketch(Plane.ZY.offset(241.7445)):
        with Locations((-50.8, 160.655)):
            Circle(SKETCH18_R)
        with Locations((-50.8, 144.907)):
            Circle(SKETCH18_R)
        with Locations((50.8, 144.907)):
            Circle(SKETCH18_R)
        with Locations((50.8, 160.655)):
            Circle(SKETCH18_R)
    extrude(amount=-CUT_EXTRUDE3_DEPTH, mode=Mode.SUBTRACT)


solid = part.part
